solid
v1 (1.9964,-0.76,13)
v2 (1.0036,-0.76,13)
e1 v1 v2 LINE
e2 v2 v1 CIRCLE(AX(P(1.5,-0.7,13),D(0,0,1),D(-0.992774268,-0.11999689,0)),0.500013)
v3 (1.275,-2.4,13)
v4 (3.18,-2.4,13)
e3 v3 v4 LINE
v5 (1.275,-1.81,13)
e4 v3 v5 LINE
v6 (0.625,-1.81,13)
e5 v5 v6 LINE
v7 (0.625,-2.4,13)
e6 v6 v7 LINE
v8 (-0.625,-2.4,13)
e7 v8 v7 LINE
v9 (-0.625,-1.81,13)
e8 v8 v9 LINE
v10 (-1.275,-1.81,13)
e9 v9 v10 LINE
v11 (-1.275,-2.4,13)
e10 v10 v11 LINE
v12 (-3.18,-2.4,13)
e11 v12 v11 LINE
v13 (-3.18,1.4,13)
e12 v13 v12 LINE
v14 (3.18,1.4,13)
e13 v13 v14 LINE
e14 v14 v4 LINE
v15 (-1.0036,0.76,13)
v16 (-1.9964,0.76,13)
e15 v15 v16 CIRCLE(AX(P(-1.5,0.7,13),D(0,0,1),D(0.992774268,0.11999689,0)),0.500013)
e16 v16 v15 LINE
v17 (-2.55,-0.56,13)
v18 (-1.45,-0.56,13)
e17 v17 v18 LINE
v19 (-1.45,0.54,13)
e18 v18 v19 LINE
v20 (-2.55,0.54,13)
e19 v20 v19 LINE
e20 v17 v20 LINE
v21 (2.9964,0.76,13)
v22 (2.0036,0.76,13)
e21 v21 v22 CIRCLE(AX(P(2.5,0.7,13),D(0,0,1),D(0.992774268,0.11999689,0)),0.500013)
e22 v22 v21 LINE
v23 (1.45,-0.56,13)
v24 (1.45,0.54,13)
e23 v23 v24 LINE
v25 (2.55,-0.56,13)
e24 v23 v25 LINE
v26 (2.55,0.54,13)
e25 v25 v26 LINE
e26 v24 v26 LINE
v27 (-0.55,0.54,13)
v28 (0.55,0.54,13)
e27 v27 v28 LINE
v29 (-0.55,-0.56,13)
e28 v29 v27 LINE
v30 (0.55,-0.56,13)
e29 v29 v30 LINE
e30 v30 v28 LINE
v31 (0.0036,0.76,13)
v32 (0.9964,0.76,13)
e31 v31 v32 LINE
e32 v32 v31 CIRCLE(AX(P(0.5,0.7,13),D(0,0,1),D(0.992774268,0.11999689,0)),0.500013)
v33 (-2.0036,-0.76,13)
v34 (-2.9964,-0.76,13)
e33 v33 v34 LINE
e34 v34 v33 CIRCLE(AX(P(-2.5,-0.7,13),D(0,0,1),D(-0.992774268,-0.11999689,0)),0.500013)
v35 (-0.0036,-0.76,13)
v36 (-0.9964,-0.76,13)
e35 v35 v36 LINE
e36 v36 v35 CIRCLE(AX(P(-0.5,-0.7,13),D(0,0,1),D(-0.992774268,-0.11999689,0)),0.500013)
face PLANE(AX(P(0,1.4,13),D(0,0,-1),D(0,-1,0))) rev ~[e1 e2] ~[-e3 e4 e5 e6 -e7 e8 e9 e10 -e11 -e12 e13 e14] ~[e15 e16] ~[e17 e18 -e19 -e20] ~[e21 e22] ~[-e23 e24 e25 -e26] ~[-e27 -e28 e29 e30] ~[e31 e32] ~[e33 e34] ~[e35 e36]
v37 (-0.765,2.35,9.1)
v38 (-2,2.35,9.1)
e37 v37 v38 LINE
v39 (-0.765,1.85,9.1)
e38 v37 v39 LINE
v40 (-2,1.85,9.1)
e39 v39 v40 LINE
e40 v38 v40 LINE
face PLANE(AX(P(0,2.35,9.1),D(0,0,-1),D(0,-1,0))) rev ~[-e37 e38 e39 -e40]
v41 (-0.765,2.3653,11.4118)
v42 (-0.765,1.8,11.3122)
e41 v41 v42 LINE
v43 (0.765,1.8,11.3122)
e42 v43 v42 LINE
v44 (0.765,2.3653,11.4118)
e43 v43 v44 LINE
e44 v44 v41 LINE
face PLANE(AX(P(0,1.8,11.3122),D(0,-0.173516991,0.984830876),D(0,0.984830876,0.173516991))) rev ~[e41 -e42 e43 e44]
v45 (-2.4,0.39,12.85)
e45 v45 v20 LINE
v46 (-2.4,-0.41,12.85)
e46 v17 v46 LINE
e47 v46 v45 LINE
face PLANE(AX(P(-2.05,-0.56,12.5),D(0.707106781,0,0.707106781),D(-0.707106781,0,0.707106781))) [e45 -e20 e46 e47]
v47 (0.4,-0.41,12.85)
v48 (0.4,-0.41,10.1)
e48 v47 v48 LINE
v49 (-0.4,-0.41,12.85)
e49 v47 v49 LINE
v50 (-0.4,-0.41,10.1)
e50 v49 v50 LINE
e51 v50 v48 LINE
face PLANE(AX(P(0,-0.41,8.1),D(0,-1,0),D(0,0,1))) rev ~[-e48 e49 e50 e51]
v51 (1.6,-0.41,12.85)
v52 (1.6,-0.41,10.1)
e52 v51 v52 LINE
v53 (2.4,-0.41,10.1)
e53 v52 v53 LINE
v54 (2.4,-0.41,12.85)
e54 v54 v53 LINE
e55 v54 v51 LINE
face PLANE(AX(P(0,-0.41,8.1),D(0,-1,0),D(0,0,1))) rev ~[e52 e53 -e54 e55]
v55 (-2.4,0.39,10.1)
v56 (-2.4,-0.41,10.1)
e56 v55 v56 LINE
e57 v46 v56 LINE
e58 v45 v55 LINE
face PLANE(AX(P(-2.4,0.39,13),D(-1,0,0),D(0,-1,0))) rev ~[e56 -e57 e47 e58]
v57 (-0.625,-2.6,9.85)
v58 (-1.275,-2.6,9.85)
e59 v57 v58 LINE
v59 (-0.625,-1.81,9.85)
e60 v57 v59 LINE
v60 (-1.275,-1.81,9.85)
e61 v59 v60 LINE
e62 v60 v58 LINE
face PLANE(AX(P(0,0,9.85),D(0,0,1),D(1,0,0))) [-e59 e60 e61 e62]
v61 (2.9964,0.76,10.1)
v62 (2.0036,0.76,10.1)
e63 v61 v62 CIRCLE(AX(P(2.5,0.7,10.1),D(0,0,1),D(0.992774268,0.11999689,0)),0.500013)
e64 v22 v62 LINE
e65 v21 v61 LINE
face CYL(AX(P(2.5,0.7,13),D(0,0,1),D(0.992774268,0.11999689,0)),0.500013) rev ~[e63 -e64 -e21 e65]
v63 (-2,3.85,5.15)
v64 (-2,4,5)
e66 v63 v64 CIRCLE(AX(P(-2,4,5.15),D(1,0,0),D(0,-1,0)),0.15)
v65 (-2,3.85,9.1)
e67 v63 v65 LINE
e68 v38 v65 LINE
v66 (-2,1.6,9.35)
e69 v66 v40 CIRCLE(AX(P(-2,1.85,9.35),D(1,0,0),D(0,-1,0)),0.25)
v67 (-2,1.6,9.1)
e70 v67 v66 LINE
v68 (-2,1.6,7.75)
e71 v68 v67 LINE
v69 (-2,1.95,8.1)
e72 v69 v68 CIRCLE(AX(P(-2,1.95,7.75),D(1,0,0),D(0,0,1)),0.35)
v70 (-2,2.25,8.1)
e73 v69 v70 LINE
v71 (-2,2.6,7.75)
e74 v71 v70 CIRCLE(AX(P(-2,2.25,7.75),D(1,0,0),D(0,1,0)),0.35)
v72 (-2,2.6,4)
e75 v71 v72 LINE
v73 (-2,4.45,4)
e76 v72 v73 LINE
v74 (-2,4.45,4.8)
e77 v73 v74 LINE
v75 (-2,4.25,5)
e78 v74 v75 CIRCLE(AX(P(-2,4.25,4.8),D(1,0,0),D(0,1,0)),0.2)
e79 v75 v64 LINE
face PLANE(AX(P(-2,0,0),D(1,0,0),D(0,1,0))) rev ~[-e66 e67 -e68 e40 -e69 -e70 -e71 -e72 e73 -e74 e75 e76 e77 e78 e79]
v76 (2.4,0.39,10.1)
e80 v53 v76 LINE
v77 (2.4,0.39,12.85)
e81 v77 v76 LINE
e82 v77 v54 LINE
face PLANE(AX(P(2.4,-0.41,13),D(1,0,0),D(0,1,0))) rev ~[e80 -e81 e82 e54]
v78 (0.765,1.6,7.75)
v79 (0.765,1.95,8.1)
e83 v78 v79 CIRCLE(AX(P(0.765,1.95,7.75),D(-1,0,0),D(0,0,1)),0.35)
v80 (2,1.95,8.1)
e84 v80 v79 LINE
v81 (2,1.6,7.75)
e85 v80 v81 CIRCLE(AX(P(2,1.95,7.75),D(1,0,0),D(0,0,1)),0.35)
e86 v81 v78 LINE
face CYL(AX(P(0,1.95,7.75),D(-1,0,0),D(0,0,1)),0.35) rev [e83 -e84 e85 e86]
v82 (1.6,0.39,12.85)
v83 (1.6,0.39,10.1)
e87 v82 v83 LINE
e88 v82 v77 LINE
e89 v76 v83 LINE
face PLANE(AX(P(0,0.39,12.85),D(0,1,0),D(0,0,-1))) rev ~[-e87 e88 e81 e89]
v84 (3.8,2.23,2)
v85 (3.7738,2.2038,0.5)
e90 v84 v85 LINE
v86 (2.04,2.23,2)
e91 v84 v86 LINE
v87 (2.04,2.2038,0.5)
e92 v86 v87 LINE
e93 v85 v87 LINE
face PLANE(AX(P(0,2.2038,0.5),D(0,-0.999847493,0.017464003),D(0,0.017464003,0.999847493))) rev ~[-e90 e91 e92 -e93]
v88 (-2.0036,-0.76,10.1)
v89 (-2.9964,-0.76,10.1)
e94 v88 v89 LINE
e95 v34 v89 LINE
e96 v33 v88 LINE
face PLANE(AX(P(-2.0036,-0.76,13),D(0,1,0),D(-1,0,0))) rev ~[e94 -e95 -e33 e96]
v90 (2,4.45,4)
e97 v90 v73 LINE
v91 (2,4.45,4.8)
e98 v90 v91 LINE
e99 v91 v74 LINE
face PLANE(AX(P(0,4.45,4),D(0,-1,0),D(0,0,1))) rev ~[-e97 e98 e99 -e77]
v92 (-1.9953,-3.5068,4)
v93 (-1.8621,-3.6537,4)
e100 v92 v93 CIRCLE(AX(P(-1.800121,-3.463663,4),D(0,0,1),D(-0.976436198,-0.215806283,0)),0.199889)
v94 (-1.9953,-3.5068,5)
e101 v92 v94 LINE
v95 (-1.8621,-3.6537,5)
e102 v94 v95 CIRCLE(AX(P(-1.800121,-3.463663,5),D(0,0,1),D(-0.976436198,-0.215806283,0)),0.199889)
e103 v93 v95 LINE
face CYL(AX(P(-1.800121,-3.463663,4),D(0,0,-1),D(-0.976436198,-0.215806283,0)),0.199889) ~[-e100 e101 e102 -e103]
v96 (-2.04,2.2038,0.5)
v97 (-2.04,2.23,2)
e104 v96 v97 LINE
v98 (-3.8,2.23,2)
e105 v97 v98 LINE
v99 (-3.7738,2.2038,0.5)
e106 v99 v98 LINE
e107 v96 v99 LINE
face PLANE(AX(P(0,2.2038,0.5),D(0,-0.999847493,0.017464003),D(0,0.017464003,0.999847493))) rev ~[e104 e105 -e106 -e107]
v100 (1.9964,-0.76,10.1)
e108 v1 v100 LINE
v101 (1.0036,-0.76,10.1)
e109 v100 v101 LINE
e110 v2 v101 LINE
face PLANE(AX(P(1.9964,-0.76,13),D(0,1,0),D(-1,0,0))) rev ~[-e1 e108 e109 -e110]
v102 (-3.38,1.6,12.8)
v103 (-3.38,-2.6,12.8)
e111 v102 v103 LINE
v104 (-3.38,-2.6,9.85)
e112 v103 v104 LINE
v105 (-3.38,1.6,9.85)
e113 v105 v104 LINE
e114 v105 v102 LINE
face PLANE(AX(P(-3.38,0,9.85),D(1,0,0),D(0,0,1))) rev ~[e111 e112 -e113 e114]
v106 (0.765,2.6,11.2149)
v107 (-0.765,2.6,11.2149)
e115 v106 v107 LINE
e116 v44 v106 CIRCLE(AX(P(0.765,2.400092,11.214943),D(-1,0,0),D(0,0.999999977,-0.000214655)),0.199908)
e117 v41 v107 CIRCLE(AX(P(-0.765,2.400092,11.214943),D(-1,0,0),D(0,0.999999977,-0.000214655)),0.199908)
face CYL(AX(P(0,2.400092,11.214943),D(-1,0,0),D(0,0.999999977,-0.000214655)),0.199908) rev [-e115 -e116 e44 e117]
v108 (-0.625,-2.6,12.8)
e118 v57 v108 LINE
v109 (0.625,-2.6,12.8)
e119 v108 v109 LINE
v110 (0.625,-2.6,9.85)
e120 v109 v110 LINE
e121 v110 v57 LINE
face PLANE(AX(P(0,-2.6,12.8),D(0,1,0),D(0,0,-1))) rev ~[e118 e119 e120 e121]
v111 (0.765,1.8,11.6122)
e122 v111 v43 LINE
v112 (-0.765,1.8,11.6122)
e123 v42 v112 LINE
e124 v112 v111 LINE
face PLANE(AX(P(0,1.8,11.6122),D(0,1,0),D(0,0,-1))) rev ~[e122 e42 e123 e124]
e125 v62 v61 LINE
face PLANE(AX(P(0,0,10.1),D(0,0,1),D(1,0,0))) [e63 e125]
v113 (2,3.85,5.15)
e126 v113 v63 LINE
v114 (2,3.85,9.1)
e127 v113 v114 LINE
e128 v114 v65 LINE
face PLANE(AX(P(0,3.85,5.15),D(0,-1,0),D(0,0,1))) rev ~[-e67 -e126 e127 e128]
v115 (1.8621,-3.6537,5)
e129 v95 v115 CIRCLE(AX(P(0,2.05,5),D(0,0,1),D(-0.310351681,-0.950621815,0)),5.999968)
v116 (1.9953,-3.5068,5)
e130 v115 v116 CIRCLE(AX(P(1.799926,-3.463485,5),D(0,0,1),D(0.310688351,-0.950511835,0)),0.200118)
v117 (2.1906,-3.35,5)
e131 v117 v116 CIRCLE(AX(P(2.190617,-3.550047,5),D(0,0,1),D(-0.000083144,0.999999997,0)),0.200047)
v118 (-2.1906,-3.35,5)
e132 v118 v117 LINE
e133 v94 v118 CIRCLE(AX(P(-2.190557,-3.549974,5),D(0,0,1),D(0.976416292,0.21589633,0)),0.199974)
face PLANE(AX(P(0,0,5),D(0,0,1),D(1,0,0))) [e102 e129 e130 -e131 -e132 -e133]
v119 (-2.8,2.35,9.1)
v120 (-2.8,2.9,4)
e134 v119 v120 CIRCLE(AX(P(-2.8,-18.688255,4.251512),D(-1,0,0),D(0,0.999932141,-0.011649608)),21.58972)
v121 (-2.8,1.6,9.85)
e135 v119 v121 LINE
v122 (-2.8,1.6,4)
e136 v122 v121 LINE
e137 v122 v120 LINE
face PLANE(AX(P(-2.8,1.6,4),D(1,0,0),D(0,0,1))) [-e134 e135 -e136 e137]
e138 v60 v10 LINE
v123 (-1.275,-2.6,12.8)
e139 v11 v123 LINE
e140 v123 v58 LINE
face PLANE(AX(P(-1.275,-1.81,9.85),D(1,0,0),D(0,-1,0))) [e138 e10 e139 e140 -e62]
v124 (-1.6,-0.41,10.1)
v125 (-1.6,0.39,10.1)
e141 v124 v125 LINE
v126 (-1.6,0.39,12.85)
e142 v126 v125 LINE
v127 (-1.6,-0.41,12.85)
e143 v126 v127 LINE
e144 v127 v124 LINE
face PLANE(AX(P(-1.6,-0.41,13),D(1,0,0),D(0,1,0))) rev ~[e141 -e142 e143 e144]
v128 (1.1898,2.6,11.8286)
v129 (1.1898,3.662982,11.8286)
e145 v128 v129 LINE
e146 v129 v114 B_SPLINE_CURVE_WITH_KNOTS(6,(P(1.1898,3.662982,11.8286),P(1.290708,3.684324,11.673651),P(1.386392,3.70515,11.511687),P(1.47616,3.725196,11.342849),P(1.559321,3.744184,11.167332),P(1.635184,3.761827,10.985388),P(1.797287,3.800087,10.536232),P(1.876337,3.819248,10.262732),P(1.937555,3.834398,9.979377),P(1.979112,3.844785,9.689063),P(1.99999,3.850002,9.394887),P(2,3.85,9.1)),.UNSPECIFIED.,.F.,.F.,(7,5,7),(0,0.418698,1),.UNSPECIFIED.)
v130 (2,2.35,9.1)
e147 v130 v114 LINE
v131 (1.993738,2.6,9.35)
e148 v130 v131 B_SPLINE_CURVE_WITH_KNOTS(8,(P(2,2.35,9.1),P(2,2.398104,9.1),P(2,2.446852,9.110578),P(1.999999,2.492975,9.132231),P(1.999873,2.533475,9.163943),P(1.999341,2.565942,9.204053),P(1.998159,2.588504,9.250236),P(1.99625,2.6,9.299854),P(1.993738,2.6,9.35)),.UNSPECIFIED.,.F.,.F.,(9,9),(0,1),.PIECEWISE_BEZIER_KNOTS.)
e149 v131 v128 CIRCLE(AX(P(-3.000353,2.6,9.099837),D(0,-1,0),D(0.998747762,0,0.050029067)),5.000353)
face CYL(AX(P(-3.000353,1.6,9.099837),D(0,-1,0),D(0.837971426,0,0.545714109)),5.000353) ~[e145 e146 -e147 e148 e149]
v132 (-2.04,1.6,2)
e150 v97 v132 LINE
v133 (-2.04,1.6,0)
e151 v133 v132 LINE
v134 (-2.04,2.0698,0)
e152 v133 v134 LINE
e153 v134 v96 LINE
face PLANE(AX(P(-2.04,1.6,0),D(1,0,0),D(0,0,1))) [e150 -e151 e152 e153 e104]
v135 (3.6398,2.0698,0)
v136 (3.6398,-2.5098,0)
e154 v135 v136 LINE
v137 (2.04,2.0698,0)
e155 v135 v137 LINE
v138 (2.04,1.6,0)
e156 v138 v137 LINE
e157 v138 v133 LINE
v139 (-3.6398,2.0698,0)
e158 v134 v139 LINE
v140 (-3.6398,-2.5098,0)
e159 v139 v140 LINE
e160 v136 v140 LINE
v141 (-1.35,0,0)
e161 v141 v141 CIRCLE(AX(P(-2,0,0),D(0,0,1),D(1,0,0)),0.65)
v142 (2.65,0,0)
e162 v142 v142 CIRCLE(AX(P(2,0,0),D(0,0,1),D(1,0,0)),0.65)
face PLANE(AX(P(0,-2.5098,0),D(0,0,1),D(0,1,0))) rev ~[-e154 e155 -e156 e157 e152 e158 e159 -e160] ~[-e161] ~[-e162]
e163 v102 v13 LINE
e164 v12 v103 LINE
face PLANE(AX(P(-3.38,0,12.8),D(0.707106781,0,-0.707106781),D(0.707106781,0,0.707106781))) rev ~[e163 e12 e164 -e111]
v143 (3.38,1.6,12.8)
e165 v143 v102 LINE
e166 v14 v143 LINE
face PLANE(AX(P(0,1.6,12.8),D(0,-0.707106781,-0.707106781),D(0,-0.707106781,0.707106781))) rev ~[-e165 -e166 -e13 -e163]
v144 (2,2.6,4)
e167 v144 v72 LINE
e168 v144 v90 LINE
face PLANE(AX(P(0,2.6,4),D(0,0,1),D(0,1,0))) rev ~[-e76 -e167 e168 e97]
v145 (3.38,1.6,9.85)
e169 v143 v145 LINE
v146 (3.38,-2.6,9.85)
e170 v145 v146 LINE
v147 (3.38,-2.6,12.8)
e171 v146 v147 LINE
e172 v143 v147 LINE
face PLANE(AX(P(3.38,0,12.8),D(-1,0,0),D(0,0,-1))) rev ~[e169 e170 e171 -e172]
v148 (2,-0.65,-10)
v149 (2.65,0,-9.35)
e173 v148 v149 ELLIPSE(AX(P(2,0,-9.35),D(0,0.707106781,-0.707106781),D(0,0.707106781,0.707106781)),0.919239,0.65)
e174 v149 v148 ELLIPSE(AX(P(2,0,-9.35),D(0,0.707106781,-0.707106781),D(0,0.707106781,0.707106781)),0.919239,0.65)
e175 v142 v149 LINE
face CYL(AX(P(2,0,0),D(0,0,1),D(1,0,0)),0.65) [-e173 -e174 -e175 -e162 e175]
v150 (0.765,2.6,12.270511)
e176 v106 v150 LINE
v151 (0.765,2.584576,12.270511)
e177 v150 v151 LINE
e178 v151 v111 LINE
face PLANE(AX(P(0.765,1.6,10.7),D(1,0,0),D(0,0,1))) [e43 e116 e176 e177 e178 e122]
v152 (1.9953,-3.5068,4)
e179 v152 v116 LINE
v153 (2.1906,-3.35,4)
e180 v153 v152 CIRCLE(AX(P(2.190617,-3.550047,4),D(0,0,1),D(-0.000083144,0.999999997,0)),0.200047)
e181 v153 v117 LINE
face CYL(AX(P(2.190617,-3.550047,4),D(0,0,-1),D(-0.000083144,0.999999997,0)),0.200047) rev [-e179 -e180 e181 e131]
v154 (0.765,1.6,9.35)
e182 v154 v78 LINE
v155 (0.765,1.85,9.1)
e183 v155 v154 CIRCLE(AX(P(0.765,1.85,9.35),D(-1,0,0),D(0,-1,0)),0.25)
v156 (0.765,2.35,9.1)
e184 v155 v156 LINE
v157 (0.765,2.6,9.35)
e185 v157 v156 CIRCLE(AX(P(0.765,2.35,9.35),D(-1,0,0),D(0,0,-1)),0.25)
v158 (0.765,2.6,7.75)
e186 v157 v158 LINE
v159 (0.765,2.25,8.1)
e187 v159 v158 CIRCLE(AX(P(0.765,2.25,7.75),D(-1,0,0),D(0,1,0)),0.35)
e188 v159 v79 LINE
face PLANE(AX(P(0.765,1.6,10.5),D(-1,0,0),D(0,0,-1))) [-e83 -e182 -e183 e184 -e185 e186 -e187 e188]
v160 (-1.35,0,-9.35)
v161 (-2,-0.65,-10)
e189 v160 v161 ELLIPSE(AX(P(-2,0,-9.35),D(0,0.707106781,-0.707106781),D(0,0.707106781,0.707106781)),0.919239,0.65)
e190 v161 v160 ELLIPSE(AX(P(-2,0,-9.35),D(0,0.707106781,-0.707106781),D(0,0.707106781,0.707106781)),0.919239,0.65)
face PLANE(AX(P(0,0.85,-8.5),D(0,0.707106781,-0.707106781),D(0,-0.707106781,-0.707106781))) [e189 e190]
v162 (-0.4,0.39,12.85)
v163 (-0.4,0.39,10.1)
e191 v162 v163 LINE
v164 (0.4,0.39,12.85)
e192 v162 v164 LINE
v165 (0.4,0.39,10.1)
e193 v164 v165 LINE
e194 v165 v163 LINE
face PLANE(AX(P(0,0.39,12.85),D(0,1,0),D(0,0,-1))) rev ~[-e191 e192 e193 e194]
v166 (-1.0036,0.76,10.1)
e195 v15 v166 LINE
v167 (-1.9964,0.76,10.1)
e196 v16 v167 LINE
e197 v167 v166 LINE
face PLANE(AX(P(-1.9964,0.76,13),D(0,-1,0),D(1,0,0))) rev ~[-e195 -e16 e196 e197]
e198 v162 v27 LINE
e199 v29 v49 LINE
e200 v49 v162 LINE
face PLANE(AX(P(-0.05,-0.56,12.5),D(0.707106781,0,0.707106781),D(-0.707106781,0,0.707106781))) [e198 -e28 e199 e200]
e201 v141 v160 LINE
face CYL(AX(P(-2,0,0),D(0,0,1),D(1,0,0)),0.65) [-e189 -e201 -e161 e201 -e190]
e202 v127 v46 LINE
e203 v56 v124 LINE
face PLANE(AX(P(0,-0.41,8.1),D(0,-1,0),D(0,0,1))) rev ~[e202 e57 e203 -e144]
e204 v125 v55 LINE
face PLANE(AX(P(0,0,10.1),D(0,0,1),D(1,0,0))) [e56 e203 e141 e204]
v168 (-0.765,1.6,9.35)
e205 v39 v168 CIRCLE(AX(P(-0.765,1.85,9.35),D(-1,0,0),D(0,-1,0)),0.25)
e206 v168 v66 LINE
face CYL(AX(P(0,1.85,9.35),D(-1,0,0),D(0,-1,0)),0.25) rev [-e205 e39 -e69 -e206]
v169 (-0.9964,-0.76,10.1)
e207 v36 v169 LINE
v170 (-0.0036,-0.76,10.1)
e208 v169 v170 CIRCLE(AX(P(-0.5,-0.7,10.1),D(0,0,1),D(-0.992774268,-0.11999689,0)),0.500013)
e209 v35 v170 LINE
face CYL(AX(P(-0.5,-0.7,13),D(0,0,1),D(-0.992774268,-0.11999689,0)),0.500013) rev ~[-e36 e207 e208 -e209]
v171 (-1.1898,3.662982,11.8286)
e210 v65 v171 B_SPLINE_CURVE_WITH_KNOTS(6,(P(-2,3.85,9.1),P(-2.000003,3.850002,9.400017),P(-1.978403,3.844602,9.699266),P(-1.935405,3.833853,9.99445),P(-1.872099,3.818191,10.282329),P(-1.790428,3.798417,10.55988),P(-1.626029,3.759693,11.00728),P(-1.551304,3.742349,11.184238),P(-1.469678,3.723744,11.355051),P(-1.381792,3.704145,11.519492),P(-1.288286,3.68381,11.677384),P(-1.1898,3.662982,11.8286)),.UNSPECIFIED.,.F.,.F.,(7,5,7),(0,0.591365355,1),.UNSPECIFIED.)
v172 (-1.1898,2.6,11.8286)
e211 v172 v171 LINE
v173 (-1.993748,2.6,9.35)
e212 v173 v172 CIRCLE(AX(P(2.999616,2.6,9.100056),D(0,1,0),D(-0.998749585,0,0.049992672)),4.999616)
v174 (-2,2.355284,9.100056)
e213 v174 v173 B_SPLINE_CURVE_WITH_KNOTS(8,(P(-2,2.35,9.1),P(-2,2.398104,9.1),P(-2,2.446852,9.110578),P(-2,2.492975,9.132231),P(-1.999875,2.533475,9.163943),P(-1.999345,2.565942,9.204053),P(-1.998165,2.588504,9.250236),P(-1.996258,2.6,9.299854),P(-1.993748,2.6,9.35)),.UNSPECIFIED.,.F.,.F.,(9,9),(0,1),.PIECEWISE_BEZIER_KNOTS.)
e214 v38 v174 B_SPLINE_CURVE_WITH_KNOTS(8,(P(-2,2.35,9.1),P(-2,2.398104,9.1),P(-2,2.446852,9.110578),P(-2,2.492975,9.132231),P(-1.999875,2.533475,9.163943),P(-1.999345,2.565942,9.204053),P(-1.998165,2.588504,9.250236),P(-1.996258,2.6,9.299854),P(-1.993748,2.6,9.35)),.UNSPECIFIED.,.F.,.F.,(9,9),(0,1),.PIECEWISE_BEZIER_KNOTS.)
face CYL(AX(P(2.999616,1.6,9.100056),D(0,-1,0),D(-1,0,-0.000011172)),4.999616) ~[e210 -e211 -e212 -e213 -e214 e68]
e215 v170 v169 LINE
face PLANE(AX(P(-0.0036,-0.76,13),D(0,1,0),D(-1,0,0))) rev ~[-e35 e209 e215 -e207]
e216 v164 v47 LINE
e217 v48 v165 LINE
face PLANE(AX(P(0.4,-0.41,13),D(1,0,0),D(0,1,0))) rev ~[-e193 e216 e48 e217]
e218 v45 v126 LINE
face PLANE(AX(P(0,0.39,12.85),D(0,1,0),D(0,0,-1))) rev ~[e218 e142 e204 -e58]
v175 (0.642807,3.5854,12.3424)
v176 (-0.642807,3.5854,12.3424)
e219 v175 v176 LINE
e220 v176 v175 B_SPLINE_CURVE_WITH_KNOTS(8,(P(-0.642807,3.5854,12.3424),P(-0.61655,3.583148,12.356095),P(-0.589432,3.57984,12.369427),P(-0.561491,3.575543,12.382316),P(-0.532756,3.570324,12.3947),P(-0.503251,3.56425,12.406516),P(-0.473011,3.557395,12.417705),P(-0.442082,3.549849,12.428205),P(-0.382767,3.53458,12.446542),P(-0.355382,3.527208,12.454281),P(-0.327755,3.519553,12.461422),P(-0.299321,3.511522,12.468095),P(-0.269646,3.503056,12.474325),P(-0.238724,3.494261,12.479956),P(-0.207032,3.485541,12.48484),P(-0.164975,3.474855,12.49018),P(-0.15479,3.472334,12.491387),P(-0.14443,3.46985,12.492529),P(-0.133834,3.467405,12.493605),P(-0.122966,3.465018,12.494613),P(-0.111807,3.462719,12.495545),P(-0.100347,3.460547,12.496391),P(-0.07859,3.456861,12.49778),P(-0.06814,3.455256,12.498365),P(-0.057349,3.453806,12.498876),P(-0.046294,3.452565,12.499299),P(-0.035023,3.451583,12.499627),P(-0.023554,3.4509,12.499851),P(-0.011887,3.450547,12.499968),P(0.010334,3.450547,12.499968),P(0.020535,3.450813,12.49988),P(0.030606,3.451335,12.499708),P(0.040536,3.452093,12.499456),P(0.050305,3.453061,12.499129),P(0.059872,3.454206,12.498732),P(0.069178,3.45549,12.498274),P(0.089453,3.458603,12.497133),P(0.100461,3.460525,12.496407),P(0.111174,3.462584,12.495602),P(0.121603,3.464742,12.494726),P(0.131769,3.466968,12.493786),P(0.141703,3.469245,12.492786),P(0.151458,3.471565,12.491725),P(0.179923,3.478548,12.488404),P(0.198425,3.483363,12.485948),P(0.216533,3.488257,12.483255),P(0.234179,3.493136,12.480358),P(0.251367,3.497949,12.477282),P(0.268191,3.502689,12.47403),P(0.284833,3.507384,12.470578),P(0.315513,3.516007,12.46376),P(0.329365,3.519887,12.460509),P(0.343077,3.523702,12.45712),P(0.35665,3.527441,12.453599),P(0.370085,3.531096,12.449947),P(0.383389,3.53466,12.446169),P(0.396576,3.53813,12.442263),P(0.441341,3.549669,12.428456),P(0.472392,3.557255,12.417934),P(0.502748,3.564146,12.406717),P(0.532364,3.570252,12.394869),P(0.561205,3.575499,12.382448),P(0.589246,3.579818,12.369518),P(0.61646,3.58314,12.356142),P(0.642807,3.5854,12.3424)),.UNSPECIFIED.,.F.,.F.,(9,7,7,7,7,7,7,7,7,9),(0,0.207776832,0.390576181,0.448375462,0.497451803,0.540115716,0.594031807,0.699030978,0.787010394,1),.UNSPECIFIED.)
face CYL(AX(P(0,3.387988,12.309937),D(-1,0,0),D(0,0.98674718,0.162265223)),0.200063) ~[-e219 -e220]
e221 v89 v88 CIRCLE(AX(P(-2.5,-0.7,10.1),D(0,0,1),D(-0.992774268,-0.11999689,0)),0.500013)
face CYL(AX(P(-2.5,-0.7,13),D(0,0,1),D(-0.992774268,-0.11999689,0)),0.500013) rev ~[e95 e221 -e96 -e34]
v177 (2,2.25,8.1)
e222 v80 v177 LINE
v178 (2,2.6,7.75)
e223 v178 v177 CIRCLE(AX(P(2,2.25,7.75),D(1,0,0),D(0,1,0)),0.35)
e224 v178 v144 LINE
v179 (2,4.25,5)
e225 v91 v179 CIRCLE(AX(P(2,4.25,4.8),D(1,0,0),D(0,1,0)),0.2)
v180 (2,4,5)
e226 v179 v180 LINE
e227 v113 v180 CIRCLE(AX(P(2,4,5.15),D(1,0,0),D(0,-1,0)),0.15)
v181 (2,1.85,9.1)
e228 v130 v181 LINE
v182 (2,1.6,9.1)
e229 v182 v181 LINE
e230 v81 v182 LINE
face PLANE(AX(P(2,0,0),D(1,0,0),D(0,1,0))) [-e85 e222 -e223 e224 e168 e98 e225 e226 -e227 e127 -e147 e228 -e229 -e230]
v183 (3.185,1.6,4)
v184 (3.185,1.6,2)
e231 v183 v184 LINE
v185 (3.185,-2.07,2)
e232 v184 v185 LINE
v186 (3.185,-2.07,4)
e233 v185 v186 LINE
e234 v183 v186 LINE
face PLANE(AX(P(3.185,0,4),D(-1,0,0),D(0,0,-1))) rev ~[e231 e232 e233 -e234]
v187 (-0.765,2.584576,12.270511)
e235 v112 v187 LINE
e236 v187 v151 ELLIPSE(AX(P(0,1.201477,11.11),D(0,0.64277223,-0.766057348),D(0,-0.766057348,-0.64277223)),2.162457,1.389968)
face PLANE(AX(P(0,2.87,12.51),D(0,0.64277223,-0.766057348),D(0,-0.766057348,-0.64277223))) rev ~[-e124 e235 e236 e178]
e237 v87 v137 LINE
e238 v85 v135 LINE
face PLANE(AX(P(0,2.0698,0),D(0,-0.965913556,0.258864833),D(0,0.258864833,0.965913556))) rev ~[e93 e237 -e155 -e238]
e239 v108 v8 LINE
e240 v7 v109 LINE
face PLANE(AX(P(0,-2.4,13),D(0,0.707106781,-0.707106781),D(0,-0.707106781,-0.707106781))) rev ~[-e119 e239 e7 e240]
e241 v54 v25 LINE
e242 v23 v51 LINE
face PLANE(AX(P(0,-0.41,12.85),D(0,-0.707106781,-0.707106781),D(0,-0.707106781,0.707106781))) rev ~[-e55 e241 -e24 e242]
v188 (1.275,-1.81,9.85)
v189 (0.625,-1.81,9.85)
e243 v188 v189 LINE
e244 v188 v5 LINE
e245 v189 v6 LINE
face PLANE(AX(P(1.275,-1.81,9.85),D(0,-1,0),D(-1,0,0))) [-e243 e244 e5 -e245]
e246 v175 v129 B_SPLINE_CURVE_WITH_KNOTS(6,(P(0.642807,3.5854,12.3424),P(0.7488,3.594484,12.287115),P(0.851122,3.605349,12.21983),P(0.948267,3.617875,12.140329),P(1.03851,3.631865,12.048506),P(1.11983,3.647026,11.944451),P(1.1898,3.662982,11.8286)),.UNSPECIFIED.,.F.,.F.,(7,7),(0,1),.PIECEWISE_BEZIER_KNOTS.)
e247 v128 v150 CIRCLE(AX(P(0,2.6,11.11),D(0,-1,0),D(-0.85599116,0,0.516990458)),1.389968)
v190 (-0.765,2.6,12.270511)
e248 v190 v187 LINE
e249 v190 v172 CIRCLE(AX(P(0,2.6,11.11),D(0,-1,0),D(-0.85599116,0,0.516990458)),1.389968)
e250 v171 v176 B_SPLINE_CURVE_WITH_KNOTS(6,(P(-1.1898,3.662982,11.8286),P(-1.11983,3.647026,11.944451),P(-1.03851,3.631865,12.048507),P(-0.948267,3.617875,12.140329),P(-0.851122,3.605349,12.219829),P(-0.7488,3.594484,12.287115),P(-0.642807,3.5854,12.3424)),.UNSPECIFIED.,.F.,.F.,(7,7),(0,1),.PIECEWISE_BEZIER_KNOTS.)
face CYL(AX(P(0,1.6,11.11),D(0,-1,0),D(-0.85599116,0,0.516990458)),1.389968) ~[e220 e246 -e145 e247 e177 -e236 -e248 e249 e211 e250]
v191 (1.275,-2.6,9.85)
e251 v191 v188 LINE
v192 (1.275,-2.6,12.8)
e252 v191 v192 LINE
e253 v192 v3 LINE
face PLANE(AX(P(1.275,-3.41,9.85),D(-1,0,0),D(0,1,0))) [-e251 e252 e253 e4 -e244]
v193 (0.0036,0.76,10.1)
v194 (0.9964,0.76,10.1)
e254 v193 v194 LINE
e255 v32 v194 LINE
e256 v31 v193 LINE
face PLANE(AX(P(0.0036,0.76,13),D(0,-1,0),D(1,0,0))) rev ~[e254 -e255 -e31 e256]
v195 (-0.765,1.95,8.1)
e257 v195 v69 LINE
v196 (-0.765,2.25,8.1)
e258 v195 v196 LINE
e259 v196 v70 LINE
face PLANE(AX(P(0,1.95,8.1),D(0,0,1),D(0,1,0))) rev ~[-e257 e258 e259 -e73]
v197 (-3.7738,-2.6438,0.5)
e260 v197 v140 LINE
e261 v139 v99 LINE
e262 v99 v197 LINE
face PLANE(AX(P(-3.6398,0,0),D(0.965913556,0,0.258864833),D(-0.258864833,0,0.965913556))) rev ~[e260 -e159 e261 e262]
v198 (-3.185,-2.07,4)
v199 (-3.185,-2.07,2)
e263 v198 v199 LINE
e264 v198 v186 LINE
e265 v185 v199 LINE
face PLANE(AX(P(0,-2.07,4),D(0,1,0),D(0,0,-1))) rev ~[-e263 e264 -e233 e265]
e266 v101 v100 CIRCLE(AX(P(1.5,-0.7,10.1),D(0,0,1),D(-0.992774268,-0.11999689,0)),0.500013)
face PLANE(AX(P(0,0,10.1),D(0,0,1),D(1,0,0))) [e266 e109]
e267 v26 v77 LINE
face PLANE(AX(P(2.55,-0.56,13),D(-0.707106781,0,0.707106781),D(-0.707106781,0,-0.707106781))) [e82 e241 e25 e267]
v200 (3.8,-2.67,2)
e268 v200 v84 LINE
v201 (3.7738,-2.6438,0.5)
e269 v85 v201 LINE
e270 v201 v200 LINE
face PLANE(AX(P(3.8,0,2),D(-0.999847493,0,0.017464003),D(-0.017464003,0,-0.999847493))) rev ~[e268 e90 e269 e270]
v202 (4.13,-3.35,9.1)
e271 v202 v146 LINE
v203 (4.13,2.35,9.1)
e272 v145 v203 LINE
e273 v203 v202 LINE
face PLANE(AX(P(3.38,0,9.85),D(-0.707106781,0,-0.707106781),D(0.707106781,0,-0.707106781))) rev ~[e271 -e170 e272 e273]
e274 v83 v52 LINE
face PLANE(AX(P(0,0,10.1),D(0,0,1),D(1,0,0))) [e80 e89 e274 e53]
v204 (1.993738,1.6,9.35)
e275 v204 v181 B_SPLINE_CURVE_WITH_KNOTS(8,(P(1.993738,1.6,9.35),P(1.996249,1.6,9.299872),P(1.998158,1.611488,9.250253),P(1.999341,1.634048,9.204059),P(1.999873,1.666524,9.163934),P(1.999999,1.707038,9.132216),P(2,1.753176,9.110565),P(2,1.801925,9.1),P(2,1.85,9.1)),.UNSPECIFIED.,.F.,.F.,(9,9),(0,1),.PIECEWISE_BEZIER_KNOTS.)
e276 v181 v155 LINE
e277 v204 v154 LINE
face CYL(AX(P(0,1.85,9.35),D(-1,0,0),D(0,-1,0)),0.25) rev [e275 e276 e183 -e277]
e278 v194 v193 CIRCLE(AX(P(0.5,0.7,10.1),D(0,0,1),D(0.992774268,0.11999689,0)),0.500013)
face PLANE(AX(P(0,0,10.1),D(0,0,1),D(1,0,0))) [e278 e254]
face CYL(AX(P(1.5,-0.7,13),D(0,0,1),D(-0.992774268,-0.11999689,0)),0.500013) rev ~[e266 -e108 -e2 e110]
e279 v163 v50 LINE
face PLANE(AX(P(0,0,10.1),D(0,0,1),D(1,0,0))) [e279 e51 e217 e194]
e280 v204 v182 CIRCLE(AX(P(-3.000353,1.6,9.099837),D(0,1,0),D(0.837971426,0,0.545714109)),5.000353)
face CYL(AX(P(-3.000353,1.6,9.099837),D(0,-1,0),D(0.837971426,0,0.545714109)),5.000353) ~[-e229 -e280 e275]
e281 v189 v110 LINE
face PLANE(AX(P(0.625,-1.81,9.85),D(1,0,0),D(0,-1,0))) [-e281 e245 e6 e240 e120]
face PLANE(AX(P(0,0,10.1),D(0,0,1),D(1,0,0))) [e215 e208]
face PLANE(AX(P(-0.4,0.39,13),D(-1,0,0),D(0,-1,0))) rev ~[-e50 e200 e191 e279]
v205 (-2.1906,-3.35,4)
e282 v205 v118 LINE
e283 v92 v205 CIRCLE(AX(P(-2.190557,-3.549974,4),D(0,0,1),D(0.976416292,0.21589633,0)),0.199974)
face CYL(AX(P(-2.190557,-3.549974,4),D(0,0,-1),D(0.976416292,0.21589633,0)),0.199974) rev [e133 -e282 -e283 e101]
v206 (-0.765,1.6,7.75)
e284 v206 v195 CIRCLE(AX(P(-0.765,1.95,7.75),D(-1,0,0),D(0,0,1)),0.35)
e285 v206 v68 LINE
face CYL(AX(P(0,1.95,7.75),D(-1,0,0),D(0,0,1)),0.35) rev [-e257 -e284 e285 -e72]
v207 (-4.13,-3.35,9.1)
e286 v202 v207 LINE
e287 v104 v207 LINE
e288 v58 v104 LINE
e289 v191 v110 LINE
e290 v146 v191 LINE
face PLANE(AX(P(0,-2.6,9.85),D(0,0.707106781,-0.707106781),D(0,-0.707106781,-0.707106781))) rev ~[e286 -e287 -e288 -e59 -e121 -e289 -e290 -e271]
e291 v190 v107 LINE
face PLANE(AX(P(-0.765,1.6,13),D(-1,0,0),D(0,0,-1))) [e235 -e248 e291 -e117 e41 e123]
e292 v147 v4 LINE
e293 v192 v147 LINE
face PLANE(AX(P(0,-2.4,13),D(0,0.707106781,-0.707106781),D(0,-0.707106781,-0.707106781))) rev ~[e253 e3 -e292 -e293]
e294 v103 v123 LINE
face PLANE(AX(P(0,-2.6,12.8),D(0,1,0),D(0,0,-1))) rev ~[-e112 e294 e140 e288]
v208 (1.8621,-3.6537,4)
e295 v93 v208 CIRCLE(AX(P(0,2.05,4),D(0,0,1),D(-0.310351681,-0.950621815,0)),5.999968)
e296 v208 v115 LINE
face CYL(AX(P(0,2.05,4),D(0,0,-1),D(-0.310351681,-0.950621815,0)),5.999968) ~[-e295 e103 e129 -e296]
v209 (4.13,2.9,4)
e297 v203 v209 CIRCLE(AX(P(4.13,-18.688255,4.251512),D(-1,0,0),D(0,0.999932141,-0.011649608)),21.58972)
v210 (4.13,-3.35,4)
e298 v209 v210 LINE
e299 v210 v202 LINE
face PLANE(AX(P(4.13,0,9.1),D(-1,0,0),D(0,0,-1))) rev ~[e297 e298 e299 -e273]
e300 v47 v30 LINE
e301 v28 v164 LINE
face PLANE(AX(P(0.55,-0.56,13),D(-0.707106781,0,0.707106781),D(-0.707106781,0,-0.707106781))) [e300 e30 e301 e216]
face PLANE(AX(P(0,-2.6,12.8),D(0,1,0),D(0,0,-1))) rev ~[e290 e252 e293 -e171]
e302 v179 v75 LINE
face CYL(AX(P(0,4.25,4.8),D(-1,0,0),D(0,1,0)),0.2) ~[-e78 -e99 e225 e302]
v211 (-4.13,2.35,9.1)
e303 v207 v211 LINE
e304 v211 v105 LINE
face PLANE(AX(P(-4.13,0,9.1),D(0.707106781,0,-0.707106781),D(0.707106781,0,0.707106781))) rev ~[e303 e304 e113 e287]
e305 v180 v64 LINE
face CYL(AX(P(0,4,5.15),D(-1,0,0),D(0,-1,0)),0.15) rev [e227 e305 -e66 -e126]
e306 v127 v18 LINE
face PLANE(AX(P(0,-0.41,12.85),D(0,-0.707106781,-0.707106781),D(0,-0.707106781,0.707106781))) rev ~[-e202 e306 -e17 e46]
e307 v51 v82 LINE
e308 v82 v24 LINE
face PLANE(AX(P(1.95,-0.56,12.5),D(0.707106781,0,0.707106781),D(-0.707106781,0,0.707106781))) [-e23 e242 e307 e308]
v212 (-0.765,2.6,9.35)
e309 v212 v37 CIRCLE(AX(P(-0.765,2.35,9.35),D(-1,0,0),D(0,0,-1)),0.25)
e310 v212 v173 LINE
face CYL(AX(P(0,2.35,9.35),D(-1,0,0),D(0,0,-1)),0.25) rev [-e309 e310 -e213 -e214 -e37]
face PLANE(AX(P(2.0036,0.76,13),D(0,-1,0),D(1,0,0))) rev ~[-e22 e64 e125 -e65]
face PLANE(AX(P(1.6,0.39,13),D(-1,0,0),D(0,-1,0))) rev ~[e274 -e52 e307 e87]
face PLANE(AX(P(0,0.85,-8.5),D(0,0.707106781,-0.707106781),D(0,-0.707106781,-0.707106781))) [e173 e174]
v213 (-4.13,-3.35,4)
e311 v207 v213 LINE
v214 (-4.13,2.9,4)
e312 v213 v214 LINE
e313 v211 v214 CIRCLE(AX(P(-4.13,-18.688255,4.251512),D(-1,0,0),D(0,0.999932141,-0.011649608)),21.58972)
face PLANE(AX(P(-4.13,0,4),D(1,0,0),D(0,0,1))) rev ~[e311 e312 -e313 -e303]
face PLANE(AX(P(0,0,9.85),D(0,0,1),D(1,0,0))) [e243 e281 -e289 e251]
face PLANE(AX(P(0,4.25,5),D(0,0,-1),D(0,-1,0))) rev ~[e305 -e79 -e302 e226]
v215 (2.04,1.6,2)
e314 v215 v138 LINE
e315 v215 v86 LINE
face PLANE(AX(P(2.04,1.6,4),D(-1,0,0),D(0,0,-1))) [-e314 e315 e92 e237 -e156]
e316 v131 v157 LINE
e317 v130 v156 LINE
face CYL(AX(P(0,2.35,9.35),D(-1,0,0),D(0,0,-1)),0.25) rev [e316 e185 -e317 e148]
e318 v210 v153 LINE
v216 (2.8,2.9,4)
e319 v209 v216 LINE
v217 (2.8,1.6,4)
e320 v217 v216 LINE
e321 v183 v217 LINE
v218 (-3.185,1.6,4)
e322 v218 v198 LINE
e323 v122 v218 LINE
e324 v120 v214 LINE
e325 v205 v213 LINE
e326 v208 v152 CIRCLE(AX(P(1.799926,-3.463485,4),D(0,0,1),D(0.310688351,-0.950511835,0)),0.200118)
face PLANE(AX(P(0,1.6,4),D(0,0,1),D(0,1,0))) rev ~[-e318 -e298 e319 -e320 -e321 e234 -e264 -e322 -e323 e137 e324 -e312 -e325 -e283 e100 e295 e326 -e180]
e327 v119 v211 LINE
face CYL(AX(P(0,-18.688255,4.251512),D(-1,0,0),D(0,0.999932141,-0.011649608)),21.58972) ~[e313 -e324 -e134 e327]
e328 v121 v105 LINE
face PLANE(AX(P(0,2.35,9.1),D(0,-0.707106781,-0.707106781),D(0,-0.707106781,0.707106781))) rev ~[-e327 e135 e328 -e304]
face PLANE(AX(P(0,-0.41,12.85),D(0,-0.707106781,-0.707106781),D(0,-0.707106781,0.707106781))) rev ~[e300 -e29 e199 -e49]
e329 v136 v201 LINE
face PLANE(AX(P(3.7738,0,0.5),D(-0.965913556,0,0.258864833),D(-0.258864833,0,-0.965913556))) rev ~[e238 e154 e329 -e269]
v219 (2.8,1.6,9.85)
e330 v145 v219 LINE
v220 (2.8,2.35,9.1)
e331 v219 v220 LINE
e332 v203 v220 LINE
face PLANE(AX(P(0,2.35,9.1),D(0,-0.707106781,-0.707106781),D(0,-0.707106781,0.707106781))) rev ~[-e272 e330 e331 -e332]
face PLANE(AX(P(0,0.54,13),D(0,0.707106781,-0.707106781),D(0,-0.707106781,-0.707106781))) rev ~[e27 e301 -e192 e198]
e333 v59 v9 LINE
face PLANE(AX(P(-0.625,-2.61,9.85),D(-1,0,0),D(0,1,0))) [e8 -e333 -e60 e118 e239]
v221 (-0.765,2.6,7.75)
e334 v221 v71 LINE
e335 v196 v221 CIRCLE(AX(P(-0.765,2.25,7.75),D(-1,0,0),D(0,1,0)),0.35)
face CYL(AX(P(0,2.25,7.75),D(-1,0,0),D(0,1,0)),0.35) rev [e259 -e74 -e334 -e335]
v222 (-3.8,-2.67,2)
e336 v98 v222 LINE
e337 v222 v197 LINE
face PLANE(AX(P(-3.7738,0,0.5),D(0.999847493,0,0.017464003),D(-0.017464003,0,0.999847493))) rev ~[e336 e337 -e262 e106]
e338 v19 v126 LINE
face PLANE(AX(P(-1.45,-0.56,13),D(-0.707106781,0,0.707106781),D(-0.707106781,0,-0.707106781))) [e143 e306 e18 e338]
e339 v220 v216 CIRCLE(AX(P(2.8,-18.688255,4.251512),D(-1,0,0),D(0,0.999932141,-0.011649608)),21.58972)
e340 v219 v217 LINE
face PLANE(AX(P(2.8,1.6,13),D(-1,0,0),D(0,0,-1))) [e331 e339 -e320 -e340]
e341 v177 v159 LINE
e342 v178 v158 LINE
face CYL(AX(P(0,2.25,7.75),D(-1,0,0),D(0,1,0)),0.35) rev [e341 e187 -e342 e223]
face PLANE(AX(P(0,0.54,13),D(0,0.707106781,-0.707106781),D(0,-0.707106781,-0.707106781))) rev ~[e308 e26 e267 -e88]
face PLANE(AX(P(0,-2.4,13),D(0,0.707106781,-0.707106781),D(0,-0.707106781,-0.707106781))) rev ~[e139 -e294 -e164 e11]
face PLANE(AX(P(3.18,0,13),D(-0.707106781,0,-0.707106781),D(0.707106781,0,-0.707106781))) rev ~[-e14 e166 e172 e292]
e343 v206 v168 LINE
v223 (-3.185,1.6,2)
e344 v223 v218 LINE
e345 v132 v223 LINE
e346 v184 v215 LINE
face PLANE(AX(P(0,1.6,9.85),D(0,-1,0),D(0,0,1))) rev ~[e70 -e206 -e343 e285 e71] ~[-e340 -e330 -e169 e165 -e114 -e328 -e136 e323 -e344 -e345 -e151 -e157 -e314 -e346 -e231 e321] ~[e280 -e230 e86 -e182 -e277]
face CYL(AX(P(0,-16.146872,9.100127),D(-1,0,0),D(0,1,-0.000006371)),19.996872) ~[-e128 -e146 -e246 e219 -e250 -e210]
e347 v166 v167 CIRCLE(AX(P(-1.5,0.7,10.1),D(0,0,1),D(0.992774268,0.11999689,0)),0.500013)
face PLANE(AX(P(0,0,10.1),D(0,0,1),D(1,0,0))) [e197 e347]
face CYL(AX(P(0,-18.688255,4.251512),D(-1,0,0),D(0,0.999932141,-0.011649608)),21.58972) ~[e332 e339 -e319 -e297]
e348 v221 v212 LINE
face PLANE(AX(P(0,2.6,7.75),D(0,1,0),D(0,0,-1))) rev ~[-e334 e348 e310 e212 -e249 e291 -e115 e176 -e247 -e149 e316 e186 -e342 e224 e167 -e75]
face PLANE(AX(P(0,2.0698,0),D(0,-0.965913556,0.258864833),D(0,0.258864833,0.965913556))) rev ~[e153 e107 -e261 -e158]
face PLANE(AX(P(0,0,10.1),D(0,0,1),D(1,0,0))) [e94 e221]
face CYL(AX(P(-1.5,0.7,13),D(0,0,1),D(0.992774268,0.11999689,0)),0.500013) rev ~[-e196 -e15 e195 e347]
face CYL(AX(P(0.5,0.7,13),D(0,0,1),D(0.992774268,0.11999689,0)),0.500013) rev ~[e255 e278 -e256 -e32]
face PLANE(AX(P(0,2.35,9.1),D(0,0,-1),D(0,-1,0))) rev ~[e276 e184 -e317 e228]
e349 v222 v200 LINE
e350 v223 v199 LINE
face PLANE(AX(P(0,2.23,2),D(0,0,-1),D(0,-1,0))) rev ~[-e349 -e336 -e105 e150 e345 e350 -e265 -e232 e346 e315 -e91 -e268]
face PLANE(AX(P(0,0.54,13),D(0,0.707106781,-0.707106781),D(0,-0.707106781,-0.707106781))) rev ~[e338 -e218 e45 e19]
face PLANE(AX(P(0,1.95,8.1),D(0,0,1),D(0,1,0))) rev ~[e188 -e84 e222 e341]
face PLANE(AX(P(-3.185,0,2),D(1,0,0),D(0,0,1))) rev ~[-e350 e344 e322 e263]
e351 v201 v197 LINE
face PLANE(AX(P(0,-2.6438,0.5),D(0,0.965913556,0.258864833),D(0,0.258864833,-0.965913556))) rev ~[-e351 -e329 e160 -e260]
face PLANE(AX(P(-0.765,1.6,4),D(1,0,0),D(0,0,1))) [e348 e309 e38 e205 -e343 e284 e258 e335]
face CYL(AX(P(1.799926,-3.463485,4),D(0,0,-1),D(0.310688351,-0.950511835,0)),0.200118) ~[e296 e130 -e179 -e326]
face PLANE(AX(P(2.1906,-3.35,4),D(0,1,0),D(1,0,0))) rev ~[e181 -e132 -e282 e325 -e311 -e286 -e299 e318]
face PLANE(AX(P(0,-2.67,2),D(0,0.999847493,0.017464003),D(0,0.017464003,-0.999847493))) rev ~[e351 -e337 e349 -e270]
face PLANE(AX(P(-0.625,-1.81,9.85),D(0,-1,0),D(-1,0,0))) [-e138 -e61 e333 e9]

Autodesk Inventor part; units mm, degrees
sketch "Sketch_9" plane through (0, 0, 0) normal (1, 0, 0) x (0, 1, 0)
  line L0 (1.4, 13) -> (-2.4, 13)
  line L1 (-2.4, 13) -> (-2.6, 12.8)
  line L2 (-2.6, 12.8) -> (-2.6, 9.85)
  line L3 (-2.6, 9.85) -> (-3.35, 9.1)
  line L4 (-3.35, 9.1) -> (-3.35, 4)
  line L5 (-3.35, 4) -> (-2.07, 4)
  line L6 (-2.07, 4) -> (-2.07, 2)
  line L7 (-2.07, 2) -> (-2.67, 2)
  line L8 (-2.67, 2) -> (-2.6438, 0.5)
  line L9 (-2.6438, 0.5) -> (-2.5098, 0)
  line L10 (-2.5098, 0) -> (2.0698, 0)
  line L11 (2.0698, 0) -> (2.2038, 0.5)
  line L12 (2.2038, 0.5) -> (2.23, 2)
  line L13 (2.23, 2) -> (1.6, 2)
  line L14 (1.6, 2) -> (1.6, 4)
  line L15 (1.6, 4) -> (2.9, 4)
  arc A0 (2.9, 4) -> (2.35, 9.1) centre (-18.6885, 4.2515) ccw
  line L16 (2.35, 9.1) -> (1.6, 9.85)
  line L17 (1.6, 9.85) -> (1.6, 12.8)
  line L18 (1.6, 12.8) -> (1.4, 13)
extrude "Extrusion1" add sketch "Sketch_9" along normal mid plane 8.3
sketch "Sketch_23" plane through (0, 0, 0) normal (0, 1, 0) x (-1, 0, 0)
  line L0 (5, 14) -> (-5, 14)
  line L1 (-5, 14) -> (-5, -1)
  line L2 (-5, -1) -> (5, -1)
  line L3 (5, -1) -> (5, 14)
  line L4 (4.13, 9.1) -> (3.38, 9.85)
  line L5 (3.38, 9.85) -> (3.38, 12.8)
  line L6 (3.38, 12.8) -> (3.18, 13)
  line L7 (3.18, 13) -> (-3.18, 13)
  line L8 (-3.18, 13) -> (-3.38, 12.8)
  line L9 (-3.38, 12.8) -> (-3.38, 9.85)
  line L10 (-3.38, 9.85) -> (-4.13, 9.1)
  line L11 (-4.13, 9.1) -> (-4.13, 4)
  line L12 (-4.13, 4) -> (-3.185, 4)
  line L13 (-3.185, 4) -> (-3.185, 2)
  line L14 (-3.185, 2) -> (-3.8, 2)
  line L15 (-3.8, 2) -> (-3.7738, 0.5)
  line L16 (-3.7738, 0.5) -> (-3.6398, 0)
  line L17 (-3.6398, 0) -> (3.6398, 0)
  line L18 (3.6398, 0) -> (3.7738, 0.5)
  line L19 (3.7738, 0.5) -> (3.8, 2)
  line L20 (3.8, 2) -> (3.185, 2)
  line L21 (3.185, 2) -> (3.185, 4)
  line L22 (3.185, 4) -> (4.13, 4)
  line L23 (4.13, 4) -> (4.13, 9.1)
extrude "Extrusion2" cut sketch "Sketch_23" along normal mid plane 12
sketch "Sketch_1" plane through (0, 1.6, 0) normal (0, 1, 0) x (1, 0, 0)
  line L0 (-2.8, -4) -> (-2.8, -13)
  line L1 (-2.8, -13) -> (2.8, -13)
  line L2 (2.8, -13) -> (2.8, -4)
  line L3 (2.8, -4) -> (2.04, -4)
  line L4 (2.04, -4) -> (2.04, 0)
  line L5 (2.04, 0) -> (-2.04, 0)
  line L6 (-2.04, 0) -> (-2.04, -4)
  line L7 (-2.04, -4) -> (-2.8, -4)
extrude "Extrusion3" cut sketch "Sketch_1" along normal blind 2
sketch "Sketch_2" plane through (0, 0, 0) normal (1, 0, 0) x (0, 1, 0)
  line L0 (3.3881, 12.51) -> (2.87, 12.51)
  line L1 (2.87, 12.51) -> (1.8, 11.6122)
  line L2 (1.8, 11.6122) -> (1.8, 11.3122)
  line L3 (1.8, 11.3122) -> (2.3653, 11.4118)
  arc A0 (2.6, 11.2149) -> (2.3653, 11.4118) centre (2.4, 11.2149) ccw
  line L4 (2.6, 11.2149) -> (2.6, 9.35)
  arc A1 (2.35, 9.1) -> (2.6, 9.35) centre (2.35, 9.35) ccw
  line L5 (2.35, 9.1) -> (1.85, 9.1)
  arc A2 (1.6, 9.35) -> (1.85, 9.1) centre (1.85, 9.35) ccw
  line L6 (1.6, 9.35) -> (0.6, 9.35)
  line L7 (0.6, 9.35) -> (0.6, 7.75)
  line L8 (0.6, 7.75) -> (1.6, 7.75)
  arc A3 (1.95, 8.1) -> (1.6, 7.75) centre (1.95, 7.75) ccw
  line L9 (1.95, 8.1) -> (2.25, 8.1)
  arc A4 (2.6, 7.75) -> (2.25, 8.1) centre (2.25, 7.75) ccw
  line L10 (2.6, 7.75) -> (2.6, 4)
  line L11 (2.6, 4) -> (4.45, 4)
  line L12 (4.45, 4) -> (4.45, 4.8)
  arc A5 (4.45, 4.8) -> (4.25, 5) centre (4.25, 4.8) ccw
  line L13 (4.25, 5) -> (4, 5)
  arc A6 (3.85, 5.15) -> (4, 5) centre (4, 5.15) ccw
  line L14 (3.85, 5.15) -> (3.85, 9.1)
  arc A7 (3.85, 9.1) -> (3.5854, 12.3424) centre (-16.15, 9.1) ccw
  arc A8 (3.5854, 12.3424) -> (3.3881, 12.51) centre (3.3881, 12.31) ccw
extrude "Extrusion4" add sketch "Sketch_2" along normal mid plane 4
sketch "Sketch_3" plane through (0, 1.6, 0) normal (0, 1, 0) x (1, 0, 0)
  line L0 (-2.2, -12.8) -> (2.2, -12.8)
  line L1 (2.2, -12.8) -> (2.2, -3.8)
  line L2 (2.2, -3.8) -> (-2.2, -3.8)
  line L3 (-2.2, -3.8) -> (-2.2, -12.8)
  arc A0 (-2, -9.1) -> (-1.1898, -11.8286) centre (3, -9.1) ccw
  arc A1 (-1.1898, -11.8286) -> (1.1898, -11.8286) centre (0, -11.11) ccw
  arc A2 (1.1898, -11.8286) -> (2, -9.1) centre (-3, -9.1) ccw
  line L4 (2, -9.1) -> (2, -4)
  line L5 (2, -4) -> (-2, -4)
  line L6 (-2, -4) -> (-2, -9.1)
extrude "Extrusion5" cut sketch "Sketch_3" along normal blind 3
sketch "Sketch_4" plane through (0, 1.6, 0) normal (0, 1, 0) x (1, 0, 0)
  line L0 (-2, -10.5) -> (-2, -13)
  line L1 (-2, -13) -> (-0.765, -13)
  line L2 (-0.765, -13) -> (-0.765, -10.7)
  line L3 (-0.765, -10.7) -> (0.765, -10.7)
  line L4 (0.765, -10.7) -> (0.765, -13)
  line L5 (0.765, -13) -> (2, -13)
  line L6 (2, -13) -> (2, -10.5)
  line L7 (2, -10.5) -> (0.765, -10.5)
  line L8 (0.765, -10.5) -> (0.765, -4)
  line L9 (0.765, -4) -> (2, -4)
  line L10 (2, -4) -> (2, -3)
  line L11 (2, -3) -> (-2, -3)
  line L12 (-2, -3) -> (-2, -4)
  line L13 (-2, -4) -> (-0.765, -4)
  line L14 (-0.765, -4) -> (-0.765, -10.5)
  line L15 (-0.765, -10.5) -> (-2, -10.5)
extrude "Extrusion6" cut sketch "Sketch_4" along normal blind 1
sketch "Sketch_5" plane through (0, 0, 4) normal (0, 0, 1) x (1, 0, 0)
  line L0 (-2.3, -3.35) -> (-2.1906, -3.35)
  arc A0 (-1.9953, -3.5068) -> (-2.1906, -3.35) centre (-2.1906, -3.55) ccw
  arc A1 (-1.9953, -3.5068) -> (-1.8621, -3.6537) centre (-1.8, -3.4636) ccw
  arc A2 (-1.8621, -3.6537) -> (1.8621, -3.6537) centre (0, 2.05) ccw
  arc A3 (1.8621, -3.6537) -> (1.9953, -3.5068) centre (1.8, -3.4636) ccw
  arc A4 (2.1906, -3.35) -> (1.9953, -3.5068) centre (2.1906, -3.55) ccw
  line L1 (2.1906, -3.35) -> (2.3, -3.35)
  line L2 (2.3, -3.35) -> (2, 0)
  line L3 (2, 0) -> (-2, 0)
  line L4 (-2, 0) -> (-2.3, -3.35)
extrude "Extrusion7" add sketch "Sketch_5" along normal blind 1
sketch "Sketch_6" plane through (0, 0, 9.85) normal (0, 0, 1) x (1, 0, 0)
  line L0 (-1.275, -1.81) -> (-1.275, -3.41)
  line L1 (-1.275, -3.41) -> (1.275, -3.41)
  line L2 (1.275, -3.41) -> (1.275, -1.81)
  line L3 (1.275, -1.81) -> (0.625, -1.81)
  line L4 (0.625, -1.81) -> (0.625, -2.61)
  line L5 (0.625, -2.61) -> (-0.625, -2.61)
  line L6 (-0.625, -2.61) -> (-0.625, -1.81)
  line L7 (-0.625, -1.81) -> (-1.275, -1.81)
extrude "Extrusion8" cut sketch "Sketch_6" along normal blind 3.2
sketch "Sketch_19" plane through (0, 0, 13) normal (0, 0, 1) x (1, 0, 0)
  line L0 (-2.4, 0.39) -> (-2.4, -0.41)
  line L1 (-2.4, -0.41) -> (-1.6, -0.41)
  line L2 (-1.6, -0.41) -> (-1.6, 0.39)
  line L3 (-1.6, 0.39) -> (-2.4, 0.39)
extrude "Extrusion9" cut sketch "Sketch_19" against normal blind 2.9
sketch "Sketch_20" plane through (0, 0, 13) normal (0, 0, 1) x (1, 0, 0)
  line L0 (-0.4, 0.39) -> (-0.4, -0.41)
  line L1 (-0.4, -0.41) -> (0.4, -0.41)
  line L2 (0.4, -0.41) -> (0.4, 0.39)
  line L3 (0.4, 0.39) -> (-0.4, 0.39)
extrude "Extrusion10" cut sketch "Sketch_20" against normal blind 2.9
sketch "Sketch_21" plane through (0, 0, 13) normal (0, 0, 1) x (1, 0, 0)
  line L0 (1.6, 0.39) -> (1.6, -0.41)
  line L1 (1.6, -0.41) -> (2.4, -0.41)
  line L2 (2.4, -0.41) -> (2.4, 0.39)
  line L3 (2.4, 0.39) -> (1.6, 0.39)
extrude "Extrusion11" cut sketch "Sketch_21" against normal blind 2.9
sketch "Sketch_7" plane through (0, 0, 13) normal (0, 0, 1) x (1, 0, 0)
  arc A0 (-2.9964, -0.76) -> (-2.0036, -0.76) centre (-2.5, -0.7) ccw
  line L0 (-2.0036, -0.76) -> (-2.9964, -0.76)
extrude "Extrusion12" cut sketch "Sketch_7" against normal blind 2.9
sketch "Sketch_8" plane through (0, 0, 13) normal (0, 0, 1) x (1, 0, 0)
  line L0 (0.0036, 0.76) -> (0.9964, 0.76)
  arc A0 (0.9964, 0.76) -> (0.0036, 0.76) centre (0.5, 0.7) ccw
extrude "Extrusion13" cut sketch "Sketch_8" against normal blind 2.9
sketch "Sketch_10" plane through (0, 0, 13) normal (0, 0, 1) x (1, 0, 0)
  line L0 (2.0036, 0.76) -> (2.9964, 0.76)
  arc A0 (2.9964, 0.76) -> (2.0036, 0.76) centre (2.5, 0.7) ccw
extrude "Extrusion14" cut sketch "Sketch_10" against normal blind 2.9
sketch "Sketch_11" plane through (0, 0, 13) normal (0, 0, 1) x (1, 0, 0)
  line L0 (-1.9964, 0.76) -> (-1.0036, 0.76)
  arc A0 (-1.0036, 0.76) -> (-1.9964, 0.76) centre (-1.5, 0.7) ccw
extrude "Extrusion15" cut sketch "Sketch_11" against normal blind 2.9
sketch "Sketch_12" plane through (0, 0, 13) normal (0, 0, 1) x (1, 0, 0)
  arc A0 (-0.9964, -0.76) -> (-0.0036, -0.76) centre (-0.5, -0.7) ccw
  line L0 (-0.0036, -0.76) -> (-0.9964, -0.76)
extrude "Extrusion16" cut sketch "Sketch_12" against normal blind 2.9
sketch "Sketch_13" plane through (0, 0, 13) normal (0, 0, 1) x (1, 0, 0)
  arc A0 (1.0036, -0.76) -> (1.9964, -0.76) centre (1.5, -0.7) ccw
  line L0 (1.9964, -0.76) -> (1.0036, -0.76)
extrude "Extrusion17" cut sketch "Sketch_13" against normal blind 2.9
sketch "Sketch_14" plane through (0, -0.56, 0) normal (0, 1, 0) x (1, 0, 0)
  line L0 (-2.55, -13) -> (-2.55, -13.5)
  line L1 (-2.55, -13.5) -> (2.55, -13.5)
  line L2 (2.55, -13.5) -> (2.55, -13)
  line L3 (2.55, -13) -> (2.05, -12.5)
  line L4 (2.05, -12.5) -> (1.95, -12.5)
  line L5 (1.95, -12.5) -> (1.45, -13)
  line L6 (1.45, -13) -> (0.55, -13)
  line L7 (0.55, -13) -> (0.05, -12.5)
  line L8 (0.05, -12.5) -> (-0.05, -12.5)
  line L9 (-0.05, -12.5) -> (-0.55, -13)
  line L10 (-0.55, -13) -> (-1.45, -13)
  line L11 (-1.45, -13) -> (-1.95, -12.5)
  line L12 (-1.95, -12.5) -> (-2.05, -12.5)
  line L13 (-2.05, -12.5) -> (-2.55, -13)
extrude "Extrusion18" cut sketch "Sketch_14" along normal blind 1.1
sketch "Sketch_15" plane through (0, 0, 0) normal (1, 0, 0) x (0, 1, 0)
  line L0 (0.54, 13) -> (0.39, 12.85)
  line L1 (0.39, 12.85) -> (0.39, 8.1)
  line L2 (0.39, 8.1) -> (-0.41, 8.1)
  line L3 (-0.41, 8.1) -> (-0.41, 12.85)
  line L4 (-0.41, 12.85) -> (-0.56, 13)
  line L5 (-0.56, 13) -> (-0.56, 8)
  line L6 (-0.56, 8) -> (0.54, 8)
  line L7 (0.54, 8) -> (0.54, 13)
extrude "Extrusion19" add sketch "Sketch_15" along normal mid plane 6
sketch "Sketch_16" plane through (0, 0, 0) normal (0, 0, 1) x (1, 0, 0)
  circle A0 centre (2, 0) radius 0.65
extrude "Extrusion20" add sketch "Sketch_16" against normal blind 10
sketch "Sketch_17" plane through (0, 0, 0) normal (0, 0, 1) x (1, 0, 0)
  circle A0 centre (-2, 0) radius 0.65
extrude "Extrusion21" add sketch "Sketch_17" against normal blind 10
sketch "Sketch_18" plane through (0, 0, 0) normal (1, 0, 0) x (0, 1, 0)
  line L0 (0.85, -8.5) -> (-0.65, -10)
  line L1 (-0.65, -10) -> (0.85, -10)
  line L2 (0.85, -10) -> (0.85, -8.5)
extrude "Extrusion22" cut sketch "Sketch_18" along normal mid plane 6
ref_plane "ANBAU_XY" through (0, 0, 13) normal (0, 0, -1) x (1, 0, 0)
ref_plane "ANBAU_YZ" through (0, 0, 13) normal (1, 0, 0) x (0, -1, 0)
ref_plane "ANBAU_ZX" through (0, 0, 13) normal (0, -1, 0) x (0, 0, -1)
ref_plane "NEBV_XY" through (0, 0.1, 13) normal (0, 0, 1) x (1, 0, 0)
ref_plane "NEBV_YZ" through (0, 0.1, 13) normal (1, 0, 0) x (0, 1, 0)
ref_plane "NEBV_ZX" through (0, 0.1, 13) normal (0, 1, 0) x (0, 0, 1)
properties part number "566654 NEBV-H1G2-KN-0.5-N-LE2"
